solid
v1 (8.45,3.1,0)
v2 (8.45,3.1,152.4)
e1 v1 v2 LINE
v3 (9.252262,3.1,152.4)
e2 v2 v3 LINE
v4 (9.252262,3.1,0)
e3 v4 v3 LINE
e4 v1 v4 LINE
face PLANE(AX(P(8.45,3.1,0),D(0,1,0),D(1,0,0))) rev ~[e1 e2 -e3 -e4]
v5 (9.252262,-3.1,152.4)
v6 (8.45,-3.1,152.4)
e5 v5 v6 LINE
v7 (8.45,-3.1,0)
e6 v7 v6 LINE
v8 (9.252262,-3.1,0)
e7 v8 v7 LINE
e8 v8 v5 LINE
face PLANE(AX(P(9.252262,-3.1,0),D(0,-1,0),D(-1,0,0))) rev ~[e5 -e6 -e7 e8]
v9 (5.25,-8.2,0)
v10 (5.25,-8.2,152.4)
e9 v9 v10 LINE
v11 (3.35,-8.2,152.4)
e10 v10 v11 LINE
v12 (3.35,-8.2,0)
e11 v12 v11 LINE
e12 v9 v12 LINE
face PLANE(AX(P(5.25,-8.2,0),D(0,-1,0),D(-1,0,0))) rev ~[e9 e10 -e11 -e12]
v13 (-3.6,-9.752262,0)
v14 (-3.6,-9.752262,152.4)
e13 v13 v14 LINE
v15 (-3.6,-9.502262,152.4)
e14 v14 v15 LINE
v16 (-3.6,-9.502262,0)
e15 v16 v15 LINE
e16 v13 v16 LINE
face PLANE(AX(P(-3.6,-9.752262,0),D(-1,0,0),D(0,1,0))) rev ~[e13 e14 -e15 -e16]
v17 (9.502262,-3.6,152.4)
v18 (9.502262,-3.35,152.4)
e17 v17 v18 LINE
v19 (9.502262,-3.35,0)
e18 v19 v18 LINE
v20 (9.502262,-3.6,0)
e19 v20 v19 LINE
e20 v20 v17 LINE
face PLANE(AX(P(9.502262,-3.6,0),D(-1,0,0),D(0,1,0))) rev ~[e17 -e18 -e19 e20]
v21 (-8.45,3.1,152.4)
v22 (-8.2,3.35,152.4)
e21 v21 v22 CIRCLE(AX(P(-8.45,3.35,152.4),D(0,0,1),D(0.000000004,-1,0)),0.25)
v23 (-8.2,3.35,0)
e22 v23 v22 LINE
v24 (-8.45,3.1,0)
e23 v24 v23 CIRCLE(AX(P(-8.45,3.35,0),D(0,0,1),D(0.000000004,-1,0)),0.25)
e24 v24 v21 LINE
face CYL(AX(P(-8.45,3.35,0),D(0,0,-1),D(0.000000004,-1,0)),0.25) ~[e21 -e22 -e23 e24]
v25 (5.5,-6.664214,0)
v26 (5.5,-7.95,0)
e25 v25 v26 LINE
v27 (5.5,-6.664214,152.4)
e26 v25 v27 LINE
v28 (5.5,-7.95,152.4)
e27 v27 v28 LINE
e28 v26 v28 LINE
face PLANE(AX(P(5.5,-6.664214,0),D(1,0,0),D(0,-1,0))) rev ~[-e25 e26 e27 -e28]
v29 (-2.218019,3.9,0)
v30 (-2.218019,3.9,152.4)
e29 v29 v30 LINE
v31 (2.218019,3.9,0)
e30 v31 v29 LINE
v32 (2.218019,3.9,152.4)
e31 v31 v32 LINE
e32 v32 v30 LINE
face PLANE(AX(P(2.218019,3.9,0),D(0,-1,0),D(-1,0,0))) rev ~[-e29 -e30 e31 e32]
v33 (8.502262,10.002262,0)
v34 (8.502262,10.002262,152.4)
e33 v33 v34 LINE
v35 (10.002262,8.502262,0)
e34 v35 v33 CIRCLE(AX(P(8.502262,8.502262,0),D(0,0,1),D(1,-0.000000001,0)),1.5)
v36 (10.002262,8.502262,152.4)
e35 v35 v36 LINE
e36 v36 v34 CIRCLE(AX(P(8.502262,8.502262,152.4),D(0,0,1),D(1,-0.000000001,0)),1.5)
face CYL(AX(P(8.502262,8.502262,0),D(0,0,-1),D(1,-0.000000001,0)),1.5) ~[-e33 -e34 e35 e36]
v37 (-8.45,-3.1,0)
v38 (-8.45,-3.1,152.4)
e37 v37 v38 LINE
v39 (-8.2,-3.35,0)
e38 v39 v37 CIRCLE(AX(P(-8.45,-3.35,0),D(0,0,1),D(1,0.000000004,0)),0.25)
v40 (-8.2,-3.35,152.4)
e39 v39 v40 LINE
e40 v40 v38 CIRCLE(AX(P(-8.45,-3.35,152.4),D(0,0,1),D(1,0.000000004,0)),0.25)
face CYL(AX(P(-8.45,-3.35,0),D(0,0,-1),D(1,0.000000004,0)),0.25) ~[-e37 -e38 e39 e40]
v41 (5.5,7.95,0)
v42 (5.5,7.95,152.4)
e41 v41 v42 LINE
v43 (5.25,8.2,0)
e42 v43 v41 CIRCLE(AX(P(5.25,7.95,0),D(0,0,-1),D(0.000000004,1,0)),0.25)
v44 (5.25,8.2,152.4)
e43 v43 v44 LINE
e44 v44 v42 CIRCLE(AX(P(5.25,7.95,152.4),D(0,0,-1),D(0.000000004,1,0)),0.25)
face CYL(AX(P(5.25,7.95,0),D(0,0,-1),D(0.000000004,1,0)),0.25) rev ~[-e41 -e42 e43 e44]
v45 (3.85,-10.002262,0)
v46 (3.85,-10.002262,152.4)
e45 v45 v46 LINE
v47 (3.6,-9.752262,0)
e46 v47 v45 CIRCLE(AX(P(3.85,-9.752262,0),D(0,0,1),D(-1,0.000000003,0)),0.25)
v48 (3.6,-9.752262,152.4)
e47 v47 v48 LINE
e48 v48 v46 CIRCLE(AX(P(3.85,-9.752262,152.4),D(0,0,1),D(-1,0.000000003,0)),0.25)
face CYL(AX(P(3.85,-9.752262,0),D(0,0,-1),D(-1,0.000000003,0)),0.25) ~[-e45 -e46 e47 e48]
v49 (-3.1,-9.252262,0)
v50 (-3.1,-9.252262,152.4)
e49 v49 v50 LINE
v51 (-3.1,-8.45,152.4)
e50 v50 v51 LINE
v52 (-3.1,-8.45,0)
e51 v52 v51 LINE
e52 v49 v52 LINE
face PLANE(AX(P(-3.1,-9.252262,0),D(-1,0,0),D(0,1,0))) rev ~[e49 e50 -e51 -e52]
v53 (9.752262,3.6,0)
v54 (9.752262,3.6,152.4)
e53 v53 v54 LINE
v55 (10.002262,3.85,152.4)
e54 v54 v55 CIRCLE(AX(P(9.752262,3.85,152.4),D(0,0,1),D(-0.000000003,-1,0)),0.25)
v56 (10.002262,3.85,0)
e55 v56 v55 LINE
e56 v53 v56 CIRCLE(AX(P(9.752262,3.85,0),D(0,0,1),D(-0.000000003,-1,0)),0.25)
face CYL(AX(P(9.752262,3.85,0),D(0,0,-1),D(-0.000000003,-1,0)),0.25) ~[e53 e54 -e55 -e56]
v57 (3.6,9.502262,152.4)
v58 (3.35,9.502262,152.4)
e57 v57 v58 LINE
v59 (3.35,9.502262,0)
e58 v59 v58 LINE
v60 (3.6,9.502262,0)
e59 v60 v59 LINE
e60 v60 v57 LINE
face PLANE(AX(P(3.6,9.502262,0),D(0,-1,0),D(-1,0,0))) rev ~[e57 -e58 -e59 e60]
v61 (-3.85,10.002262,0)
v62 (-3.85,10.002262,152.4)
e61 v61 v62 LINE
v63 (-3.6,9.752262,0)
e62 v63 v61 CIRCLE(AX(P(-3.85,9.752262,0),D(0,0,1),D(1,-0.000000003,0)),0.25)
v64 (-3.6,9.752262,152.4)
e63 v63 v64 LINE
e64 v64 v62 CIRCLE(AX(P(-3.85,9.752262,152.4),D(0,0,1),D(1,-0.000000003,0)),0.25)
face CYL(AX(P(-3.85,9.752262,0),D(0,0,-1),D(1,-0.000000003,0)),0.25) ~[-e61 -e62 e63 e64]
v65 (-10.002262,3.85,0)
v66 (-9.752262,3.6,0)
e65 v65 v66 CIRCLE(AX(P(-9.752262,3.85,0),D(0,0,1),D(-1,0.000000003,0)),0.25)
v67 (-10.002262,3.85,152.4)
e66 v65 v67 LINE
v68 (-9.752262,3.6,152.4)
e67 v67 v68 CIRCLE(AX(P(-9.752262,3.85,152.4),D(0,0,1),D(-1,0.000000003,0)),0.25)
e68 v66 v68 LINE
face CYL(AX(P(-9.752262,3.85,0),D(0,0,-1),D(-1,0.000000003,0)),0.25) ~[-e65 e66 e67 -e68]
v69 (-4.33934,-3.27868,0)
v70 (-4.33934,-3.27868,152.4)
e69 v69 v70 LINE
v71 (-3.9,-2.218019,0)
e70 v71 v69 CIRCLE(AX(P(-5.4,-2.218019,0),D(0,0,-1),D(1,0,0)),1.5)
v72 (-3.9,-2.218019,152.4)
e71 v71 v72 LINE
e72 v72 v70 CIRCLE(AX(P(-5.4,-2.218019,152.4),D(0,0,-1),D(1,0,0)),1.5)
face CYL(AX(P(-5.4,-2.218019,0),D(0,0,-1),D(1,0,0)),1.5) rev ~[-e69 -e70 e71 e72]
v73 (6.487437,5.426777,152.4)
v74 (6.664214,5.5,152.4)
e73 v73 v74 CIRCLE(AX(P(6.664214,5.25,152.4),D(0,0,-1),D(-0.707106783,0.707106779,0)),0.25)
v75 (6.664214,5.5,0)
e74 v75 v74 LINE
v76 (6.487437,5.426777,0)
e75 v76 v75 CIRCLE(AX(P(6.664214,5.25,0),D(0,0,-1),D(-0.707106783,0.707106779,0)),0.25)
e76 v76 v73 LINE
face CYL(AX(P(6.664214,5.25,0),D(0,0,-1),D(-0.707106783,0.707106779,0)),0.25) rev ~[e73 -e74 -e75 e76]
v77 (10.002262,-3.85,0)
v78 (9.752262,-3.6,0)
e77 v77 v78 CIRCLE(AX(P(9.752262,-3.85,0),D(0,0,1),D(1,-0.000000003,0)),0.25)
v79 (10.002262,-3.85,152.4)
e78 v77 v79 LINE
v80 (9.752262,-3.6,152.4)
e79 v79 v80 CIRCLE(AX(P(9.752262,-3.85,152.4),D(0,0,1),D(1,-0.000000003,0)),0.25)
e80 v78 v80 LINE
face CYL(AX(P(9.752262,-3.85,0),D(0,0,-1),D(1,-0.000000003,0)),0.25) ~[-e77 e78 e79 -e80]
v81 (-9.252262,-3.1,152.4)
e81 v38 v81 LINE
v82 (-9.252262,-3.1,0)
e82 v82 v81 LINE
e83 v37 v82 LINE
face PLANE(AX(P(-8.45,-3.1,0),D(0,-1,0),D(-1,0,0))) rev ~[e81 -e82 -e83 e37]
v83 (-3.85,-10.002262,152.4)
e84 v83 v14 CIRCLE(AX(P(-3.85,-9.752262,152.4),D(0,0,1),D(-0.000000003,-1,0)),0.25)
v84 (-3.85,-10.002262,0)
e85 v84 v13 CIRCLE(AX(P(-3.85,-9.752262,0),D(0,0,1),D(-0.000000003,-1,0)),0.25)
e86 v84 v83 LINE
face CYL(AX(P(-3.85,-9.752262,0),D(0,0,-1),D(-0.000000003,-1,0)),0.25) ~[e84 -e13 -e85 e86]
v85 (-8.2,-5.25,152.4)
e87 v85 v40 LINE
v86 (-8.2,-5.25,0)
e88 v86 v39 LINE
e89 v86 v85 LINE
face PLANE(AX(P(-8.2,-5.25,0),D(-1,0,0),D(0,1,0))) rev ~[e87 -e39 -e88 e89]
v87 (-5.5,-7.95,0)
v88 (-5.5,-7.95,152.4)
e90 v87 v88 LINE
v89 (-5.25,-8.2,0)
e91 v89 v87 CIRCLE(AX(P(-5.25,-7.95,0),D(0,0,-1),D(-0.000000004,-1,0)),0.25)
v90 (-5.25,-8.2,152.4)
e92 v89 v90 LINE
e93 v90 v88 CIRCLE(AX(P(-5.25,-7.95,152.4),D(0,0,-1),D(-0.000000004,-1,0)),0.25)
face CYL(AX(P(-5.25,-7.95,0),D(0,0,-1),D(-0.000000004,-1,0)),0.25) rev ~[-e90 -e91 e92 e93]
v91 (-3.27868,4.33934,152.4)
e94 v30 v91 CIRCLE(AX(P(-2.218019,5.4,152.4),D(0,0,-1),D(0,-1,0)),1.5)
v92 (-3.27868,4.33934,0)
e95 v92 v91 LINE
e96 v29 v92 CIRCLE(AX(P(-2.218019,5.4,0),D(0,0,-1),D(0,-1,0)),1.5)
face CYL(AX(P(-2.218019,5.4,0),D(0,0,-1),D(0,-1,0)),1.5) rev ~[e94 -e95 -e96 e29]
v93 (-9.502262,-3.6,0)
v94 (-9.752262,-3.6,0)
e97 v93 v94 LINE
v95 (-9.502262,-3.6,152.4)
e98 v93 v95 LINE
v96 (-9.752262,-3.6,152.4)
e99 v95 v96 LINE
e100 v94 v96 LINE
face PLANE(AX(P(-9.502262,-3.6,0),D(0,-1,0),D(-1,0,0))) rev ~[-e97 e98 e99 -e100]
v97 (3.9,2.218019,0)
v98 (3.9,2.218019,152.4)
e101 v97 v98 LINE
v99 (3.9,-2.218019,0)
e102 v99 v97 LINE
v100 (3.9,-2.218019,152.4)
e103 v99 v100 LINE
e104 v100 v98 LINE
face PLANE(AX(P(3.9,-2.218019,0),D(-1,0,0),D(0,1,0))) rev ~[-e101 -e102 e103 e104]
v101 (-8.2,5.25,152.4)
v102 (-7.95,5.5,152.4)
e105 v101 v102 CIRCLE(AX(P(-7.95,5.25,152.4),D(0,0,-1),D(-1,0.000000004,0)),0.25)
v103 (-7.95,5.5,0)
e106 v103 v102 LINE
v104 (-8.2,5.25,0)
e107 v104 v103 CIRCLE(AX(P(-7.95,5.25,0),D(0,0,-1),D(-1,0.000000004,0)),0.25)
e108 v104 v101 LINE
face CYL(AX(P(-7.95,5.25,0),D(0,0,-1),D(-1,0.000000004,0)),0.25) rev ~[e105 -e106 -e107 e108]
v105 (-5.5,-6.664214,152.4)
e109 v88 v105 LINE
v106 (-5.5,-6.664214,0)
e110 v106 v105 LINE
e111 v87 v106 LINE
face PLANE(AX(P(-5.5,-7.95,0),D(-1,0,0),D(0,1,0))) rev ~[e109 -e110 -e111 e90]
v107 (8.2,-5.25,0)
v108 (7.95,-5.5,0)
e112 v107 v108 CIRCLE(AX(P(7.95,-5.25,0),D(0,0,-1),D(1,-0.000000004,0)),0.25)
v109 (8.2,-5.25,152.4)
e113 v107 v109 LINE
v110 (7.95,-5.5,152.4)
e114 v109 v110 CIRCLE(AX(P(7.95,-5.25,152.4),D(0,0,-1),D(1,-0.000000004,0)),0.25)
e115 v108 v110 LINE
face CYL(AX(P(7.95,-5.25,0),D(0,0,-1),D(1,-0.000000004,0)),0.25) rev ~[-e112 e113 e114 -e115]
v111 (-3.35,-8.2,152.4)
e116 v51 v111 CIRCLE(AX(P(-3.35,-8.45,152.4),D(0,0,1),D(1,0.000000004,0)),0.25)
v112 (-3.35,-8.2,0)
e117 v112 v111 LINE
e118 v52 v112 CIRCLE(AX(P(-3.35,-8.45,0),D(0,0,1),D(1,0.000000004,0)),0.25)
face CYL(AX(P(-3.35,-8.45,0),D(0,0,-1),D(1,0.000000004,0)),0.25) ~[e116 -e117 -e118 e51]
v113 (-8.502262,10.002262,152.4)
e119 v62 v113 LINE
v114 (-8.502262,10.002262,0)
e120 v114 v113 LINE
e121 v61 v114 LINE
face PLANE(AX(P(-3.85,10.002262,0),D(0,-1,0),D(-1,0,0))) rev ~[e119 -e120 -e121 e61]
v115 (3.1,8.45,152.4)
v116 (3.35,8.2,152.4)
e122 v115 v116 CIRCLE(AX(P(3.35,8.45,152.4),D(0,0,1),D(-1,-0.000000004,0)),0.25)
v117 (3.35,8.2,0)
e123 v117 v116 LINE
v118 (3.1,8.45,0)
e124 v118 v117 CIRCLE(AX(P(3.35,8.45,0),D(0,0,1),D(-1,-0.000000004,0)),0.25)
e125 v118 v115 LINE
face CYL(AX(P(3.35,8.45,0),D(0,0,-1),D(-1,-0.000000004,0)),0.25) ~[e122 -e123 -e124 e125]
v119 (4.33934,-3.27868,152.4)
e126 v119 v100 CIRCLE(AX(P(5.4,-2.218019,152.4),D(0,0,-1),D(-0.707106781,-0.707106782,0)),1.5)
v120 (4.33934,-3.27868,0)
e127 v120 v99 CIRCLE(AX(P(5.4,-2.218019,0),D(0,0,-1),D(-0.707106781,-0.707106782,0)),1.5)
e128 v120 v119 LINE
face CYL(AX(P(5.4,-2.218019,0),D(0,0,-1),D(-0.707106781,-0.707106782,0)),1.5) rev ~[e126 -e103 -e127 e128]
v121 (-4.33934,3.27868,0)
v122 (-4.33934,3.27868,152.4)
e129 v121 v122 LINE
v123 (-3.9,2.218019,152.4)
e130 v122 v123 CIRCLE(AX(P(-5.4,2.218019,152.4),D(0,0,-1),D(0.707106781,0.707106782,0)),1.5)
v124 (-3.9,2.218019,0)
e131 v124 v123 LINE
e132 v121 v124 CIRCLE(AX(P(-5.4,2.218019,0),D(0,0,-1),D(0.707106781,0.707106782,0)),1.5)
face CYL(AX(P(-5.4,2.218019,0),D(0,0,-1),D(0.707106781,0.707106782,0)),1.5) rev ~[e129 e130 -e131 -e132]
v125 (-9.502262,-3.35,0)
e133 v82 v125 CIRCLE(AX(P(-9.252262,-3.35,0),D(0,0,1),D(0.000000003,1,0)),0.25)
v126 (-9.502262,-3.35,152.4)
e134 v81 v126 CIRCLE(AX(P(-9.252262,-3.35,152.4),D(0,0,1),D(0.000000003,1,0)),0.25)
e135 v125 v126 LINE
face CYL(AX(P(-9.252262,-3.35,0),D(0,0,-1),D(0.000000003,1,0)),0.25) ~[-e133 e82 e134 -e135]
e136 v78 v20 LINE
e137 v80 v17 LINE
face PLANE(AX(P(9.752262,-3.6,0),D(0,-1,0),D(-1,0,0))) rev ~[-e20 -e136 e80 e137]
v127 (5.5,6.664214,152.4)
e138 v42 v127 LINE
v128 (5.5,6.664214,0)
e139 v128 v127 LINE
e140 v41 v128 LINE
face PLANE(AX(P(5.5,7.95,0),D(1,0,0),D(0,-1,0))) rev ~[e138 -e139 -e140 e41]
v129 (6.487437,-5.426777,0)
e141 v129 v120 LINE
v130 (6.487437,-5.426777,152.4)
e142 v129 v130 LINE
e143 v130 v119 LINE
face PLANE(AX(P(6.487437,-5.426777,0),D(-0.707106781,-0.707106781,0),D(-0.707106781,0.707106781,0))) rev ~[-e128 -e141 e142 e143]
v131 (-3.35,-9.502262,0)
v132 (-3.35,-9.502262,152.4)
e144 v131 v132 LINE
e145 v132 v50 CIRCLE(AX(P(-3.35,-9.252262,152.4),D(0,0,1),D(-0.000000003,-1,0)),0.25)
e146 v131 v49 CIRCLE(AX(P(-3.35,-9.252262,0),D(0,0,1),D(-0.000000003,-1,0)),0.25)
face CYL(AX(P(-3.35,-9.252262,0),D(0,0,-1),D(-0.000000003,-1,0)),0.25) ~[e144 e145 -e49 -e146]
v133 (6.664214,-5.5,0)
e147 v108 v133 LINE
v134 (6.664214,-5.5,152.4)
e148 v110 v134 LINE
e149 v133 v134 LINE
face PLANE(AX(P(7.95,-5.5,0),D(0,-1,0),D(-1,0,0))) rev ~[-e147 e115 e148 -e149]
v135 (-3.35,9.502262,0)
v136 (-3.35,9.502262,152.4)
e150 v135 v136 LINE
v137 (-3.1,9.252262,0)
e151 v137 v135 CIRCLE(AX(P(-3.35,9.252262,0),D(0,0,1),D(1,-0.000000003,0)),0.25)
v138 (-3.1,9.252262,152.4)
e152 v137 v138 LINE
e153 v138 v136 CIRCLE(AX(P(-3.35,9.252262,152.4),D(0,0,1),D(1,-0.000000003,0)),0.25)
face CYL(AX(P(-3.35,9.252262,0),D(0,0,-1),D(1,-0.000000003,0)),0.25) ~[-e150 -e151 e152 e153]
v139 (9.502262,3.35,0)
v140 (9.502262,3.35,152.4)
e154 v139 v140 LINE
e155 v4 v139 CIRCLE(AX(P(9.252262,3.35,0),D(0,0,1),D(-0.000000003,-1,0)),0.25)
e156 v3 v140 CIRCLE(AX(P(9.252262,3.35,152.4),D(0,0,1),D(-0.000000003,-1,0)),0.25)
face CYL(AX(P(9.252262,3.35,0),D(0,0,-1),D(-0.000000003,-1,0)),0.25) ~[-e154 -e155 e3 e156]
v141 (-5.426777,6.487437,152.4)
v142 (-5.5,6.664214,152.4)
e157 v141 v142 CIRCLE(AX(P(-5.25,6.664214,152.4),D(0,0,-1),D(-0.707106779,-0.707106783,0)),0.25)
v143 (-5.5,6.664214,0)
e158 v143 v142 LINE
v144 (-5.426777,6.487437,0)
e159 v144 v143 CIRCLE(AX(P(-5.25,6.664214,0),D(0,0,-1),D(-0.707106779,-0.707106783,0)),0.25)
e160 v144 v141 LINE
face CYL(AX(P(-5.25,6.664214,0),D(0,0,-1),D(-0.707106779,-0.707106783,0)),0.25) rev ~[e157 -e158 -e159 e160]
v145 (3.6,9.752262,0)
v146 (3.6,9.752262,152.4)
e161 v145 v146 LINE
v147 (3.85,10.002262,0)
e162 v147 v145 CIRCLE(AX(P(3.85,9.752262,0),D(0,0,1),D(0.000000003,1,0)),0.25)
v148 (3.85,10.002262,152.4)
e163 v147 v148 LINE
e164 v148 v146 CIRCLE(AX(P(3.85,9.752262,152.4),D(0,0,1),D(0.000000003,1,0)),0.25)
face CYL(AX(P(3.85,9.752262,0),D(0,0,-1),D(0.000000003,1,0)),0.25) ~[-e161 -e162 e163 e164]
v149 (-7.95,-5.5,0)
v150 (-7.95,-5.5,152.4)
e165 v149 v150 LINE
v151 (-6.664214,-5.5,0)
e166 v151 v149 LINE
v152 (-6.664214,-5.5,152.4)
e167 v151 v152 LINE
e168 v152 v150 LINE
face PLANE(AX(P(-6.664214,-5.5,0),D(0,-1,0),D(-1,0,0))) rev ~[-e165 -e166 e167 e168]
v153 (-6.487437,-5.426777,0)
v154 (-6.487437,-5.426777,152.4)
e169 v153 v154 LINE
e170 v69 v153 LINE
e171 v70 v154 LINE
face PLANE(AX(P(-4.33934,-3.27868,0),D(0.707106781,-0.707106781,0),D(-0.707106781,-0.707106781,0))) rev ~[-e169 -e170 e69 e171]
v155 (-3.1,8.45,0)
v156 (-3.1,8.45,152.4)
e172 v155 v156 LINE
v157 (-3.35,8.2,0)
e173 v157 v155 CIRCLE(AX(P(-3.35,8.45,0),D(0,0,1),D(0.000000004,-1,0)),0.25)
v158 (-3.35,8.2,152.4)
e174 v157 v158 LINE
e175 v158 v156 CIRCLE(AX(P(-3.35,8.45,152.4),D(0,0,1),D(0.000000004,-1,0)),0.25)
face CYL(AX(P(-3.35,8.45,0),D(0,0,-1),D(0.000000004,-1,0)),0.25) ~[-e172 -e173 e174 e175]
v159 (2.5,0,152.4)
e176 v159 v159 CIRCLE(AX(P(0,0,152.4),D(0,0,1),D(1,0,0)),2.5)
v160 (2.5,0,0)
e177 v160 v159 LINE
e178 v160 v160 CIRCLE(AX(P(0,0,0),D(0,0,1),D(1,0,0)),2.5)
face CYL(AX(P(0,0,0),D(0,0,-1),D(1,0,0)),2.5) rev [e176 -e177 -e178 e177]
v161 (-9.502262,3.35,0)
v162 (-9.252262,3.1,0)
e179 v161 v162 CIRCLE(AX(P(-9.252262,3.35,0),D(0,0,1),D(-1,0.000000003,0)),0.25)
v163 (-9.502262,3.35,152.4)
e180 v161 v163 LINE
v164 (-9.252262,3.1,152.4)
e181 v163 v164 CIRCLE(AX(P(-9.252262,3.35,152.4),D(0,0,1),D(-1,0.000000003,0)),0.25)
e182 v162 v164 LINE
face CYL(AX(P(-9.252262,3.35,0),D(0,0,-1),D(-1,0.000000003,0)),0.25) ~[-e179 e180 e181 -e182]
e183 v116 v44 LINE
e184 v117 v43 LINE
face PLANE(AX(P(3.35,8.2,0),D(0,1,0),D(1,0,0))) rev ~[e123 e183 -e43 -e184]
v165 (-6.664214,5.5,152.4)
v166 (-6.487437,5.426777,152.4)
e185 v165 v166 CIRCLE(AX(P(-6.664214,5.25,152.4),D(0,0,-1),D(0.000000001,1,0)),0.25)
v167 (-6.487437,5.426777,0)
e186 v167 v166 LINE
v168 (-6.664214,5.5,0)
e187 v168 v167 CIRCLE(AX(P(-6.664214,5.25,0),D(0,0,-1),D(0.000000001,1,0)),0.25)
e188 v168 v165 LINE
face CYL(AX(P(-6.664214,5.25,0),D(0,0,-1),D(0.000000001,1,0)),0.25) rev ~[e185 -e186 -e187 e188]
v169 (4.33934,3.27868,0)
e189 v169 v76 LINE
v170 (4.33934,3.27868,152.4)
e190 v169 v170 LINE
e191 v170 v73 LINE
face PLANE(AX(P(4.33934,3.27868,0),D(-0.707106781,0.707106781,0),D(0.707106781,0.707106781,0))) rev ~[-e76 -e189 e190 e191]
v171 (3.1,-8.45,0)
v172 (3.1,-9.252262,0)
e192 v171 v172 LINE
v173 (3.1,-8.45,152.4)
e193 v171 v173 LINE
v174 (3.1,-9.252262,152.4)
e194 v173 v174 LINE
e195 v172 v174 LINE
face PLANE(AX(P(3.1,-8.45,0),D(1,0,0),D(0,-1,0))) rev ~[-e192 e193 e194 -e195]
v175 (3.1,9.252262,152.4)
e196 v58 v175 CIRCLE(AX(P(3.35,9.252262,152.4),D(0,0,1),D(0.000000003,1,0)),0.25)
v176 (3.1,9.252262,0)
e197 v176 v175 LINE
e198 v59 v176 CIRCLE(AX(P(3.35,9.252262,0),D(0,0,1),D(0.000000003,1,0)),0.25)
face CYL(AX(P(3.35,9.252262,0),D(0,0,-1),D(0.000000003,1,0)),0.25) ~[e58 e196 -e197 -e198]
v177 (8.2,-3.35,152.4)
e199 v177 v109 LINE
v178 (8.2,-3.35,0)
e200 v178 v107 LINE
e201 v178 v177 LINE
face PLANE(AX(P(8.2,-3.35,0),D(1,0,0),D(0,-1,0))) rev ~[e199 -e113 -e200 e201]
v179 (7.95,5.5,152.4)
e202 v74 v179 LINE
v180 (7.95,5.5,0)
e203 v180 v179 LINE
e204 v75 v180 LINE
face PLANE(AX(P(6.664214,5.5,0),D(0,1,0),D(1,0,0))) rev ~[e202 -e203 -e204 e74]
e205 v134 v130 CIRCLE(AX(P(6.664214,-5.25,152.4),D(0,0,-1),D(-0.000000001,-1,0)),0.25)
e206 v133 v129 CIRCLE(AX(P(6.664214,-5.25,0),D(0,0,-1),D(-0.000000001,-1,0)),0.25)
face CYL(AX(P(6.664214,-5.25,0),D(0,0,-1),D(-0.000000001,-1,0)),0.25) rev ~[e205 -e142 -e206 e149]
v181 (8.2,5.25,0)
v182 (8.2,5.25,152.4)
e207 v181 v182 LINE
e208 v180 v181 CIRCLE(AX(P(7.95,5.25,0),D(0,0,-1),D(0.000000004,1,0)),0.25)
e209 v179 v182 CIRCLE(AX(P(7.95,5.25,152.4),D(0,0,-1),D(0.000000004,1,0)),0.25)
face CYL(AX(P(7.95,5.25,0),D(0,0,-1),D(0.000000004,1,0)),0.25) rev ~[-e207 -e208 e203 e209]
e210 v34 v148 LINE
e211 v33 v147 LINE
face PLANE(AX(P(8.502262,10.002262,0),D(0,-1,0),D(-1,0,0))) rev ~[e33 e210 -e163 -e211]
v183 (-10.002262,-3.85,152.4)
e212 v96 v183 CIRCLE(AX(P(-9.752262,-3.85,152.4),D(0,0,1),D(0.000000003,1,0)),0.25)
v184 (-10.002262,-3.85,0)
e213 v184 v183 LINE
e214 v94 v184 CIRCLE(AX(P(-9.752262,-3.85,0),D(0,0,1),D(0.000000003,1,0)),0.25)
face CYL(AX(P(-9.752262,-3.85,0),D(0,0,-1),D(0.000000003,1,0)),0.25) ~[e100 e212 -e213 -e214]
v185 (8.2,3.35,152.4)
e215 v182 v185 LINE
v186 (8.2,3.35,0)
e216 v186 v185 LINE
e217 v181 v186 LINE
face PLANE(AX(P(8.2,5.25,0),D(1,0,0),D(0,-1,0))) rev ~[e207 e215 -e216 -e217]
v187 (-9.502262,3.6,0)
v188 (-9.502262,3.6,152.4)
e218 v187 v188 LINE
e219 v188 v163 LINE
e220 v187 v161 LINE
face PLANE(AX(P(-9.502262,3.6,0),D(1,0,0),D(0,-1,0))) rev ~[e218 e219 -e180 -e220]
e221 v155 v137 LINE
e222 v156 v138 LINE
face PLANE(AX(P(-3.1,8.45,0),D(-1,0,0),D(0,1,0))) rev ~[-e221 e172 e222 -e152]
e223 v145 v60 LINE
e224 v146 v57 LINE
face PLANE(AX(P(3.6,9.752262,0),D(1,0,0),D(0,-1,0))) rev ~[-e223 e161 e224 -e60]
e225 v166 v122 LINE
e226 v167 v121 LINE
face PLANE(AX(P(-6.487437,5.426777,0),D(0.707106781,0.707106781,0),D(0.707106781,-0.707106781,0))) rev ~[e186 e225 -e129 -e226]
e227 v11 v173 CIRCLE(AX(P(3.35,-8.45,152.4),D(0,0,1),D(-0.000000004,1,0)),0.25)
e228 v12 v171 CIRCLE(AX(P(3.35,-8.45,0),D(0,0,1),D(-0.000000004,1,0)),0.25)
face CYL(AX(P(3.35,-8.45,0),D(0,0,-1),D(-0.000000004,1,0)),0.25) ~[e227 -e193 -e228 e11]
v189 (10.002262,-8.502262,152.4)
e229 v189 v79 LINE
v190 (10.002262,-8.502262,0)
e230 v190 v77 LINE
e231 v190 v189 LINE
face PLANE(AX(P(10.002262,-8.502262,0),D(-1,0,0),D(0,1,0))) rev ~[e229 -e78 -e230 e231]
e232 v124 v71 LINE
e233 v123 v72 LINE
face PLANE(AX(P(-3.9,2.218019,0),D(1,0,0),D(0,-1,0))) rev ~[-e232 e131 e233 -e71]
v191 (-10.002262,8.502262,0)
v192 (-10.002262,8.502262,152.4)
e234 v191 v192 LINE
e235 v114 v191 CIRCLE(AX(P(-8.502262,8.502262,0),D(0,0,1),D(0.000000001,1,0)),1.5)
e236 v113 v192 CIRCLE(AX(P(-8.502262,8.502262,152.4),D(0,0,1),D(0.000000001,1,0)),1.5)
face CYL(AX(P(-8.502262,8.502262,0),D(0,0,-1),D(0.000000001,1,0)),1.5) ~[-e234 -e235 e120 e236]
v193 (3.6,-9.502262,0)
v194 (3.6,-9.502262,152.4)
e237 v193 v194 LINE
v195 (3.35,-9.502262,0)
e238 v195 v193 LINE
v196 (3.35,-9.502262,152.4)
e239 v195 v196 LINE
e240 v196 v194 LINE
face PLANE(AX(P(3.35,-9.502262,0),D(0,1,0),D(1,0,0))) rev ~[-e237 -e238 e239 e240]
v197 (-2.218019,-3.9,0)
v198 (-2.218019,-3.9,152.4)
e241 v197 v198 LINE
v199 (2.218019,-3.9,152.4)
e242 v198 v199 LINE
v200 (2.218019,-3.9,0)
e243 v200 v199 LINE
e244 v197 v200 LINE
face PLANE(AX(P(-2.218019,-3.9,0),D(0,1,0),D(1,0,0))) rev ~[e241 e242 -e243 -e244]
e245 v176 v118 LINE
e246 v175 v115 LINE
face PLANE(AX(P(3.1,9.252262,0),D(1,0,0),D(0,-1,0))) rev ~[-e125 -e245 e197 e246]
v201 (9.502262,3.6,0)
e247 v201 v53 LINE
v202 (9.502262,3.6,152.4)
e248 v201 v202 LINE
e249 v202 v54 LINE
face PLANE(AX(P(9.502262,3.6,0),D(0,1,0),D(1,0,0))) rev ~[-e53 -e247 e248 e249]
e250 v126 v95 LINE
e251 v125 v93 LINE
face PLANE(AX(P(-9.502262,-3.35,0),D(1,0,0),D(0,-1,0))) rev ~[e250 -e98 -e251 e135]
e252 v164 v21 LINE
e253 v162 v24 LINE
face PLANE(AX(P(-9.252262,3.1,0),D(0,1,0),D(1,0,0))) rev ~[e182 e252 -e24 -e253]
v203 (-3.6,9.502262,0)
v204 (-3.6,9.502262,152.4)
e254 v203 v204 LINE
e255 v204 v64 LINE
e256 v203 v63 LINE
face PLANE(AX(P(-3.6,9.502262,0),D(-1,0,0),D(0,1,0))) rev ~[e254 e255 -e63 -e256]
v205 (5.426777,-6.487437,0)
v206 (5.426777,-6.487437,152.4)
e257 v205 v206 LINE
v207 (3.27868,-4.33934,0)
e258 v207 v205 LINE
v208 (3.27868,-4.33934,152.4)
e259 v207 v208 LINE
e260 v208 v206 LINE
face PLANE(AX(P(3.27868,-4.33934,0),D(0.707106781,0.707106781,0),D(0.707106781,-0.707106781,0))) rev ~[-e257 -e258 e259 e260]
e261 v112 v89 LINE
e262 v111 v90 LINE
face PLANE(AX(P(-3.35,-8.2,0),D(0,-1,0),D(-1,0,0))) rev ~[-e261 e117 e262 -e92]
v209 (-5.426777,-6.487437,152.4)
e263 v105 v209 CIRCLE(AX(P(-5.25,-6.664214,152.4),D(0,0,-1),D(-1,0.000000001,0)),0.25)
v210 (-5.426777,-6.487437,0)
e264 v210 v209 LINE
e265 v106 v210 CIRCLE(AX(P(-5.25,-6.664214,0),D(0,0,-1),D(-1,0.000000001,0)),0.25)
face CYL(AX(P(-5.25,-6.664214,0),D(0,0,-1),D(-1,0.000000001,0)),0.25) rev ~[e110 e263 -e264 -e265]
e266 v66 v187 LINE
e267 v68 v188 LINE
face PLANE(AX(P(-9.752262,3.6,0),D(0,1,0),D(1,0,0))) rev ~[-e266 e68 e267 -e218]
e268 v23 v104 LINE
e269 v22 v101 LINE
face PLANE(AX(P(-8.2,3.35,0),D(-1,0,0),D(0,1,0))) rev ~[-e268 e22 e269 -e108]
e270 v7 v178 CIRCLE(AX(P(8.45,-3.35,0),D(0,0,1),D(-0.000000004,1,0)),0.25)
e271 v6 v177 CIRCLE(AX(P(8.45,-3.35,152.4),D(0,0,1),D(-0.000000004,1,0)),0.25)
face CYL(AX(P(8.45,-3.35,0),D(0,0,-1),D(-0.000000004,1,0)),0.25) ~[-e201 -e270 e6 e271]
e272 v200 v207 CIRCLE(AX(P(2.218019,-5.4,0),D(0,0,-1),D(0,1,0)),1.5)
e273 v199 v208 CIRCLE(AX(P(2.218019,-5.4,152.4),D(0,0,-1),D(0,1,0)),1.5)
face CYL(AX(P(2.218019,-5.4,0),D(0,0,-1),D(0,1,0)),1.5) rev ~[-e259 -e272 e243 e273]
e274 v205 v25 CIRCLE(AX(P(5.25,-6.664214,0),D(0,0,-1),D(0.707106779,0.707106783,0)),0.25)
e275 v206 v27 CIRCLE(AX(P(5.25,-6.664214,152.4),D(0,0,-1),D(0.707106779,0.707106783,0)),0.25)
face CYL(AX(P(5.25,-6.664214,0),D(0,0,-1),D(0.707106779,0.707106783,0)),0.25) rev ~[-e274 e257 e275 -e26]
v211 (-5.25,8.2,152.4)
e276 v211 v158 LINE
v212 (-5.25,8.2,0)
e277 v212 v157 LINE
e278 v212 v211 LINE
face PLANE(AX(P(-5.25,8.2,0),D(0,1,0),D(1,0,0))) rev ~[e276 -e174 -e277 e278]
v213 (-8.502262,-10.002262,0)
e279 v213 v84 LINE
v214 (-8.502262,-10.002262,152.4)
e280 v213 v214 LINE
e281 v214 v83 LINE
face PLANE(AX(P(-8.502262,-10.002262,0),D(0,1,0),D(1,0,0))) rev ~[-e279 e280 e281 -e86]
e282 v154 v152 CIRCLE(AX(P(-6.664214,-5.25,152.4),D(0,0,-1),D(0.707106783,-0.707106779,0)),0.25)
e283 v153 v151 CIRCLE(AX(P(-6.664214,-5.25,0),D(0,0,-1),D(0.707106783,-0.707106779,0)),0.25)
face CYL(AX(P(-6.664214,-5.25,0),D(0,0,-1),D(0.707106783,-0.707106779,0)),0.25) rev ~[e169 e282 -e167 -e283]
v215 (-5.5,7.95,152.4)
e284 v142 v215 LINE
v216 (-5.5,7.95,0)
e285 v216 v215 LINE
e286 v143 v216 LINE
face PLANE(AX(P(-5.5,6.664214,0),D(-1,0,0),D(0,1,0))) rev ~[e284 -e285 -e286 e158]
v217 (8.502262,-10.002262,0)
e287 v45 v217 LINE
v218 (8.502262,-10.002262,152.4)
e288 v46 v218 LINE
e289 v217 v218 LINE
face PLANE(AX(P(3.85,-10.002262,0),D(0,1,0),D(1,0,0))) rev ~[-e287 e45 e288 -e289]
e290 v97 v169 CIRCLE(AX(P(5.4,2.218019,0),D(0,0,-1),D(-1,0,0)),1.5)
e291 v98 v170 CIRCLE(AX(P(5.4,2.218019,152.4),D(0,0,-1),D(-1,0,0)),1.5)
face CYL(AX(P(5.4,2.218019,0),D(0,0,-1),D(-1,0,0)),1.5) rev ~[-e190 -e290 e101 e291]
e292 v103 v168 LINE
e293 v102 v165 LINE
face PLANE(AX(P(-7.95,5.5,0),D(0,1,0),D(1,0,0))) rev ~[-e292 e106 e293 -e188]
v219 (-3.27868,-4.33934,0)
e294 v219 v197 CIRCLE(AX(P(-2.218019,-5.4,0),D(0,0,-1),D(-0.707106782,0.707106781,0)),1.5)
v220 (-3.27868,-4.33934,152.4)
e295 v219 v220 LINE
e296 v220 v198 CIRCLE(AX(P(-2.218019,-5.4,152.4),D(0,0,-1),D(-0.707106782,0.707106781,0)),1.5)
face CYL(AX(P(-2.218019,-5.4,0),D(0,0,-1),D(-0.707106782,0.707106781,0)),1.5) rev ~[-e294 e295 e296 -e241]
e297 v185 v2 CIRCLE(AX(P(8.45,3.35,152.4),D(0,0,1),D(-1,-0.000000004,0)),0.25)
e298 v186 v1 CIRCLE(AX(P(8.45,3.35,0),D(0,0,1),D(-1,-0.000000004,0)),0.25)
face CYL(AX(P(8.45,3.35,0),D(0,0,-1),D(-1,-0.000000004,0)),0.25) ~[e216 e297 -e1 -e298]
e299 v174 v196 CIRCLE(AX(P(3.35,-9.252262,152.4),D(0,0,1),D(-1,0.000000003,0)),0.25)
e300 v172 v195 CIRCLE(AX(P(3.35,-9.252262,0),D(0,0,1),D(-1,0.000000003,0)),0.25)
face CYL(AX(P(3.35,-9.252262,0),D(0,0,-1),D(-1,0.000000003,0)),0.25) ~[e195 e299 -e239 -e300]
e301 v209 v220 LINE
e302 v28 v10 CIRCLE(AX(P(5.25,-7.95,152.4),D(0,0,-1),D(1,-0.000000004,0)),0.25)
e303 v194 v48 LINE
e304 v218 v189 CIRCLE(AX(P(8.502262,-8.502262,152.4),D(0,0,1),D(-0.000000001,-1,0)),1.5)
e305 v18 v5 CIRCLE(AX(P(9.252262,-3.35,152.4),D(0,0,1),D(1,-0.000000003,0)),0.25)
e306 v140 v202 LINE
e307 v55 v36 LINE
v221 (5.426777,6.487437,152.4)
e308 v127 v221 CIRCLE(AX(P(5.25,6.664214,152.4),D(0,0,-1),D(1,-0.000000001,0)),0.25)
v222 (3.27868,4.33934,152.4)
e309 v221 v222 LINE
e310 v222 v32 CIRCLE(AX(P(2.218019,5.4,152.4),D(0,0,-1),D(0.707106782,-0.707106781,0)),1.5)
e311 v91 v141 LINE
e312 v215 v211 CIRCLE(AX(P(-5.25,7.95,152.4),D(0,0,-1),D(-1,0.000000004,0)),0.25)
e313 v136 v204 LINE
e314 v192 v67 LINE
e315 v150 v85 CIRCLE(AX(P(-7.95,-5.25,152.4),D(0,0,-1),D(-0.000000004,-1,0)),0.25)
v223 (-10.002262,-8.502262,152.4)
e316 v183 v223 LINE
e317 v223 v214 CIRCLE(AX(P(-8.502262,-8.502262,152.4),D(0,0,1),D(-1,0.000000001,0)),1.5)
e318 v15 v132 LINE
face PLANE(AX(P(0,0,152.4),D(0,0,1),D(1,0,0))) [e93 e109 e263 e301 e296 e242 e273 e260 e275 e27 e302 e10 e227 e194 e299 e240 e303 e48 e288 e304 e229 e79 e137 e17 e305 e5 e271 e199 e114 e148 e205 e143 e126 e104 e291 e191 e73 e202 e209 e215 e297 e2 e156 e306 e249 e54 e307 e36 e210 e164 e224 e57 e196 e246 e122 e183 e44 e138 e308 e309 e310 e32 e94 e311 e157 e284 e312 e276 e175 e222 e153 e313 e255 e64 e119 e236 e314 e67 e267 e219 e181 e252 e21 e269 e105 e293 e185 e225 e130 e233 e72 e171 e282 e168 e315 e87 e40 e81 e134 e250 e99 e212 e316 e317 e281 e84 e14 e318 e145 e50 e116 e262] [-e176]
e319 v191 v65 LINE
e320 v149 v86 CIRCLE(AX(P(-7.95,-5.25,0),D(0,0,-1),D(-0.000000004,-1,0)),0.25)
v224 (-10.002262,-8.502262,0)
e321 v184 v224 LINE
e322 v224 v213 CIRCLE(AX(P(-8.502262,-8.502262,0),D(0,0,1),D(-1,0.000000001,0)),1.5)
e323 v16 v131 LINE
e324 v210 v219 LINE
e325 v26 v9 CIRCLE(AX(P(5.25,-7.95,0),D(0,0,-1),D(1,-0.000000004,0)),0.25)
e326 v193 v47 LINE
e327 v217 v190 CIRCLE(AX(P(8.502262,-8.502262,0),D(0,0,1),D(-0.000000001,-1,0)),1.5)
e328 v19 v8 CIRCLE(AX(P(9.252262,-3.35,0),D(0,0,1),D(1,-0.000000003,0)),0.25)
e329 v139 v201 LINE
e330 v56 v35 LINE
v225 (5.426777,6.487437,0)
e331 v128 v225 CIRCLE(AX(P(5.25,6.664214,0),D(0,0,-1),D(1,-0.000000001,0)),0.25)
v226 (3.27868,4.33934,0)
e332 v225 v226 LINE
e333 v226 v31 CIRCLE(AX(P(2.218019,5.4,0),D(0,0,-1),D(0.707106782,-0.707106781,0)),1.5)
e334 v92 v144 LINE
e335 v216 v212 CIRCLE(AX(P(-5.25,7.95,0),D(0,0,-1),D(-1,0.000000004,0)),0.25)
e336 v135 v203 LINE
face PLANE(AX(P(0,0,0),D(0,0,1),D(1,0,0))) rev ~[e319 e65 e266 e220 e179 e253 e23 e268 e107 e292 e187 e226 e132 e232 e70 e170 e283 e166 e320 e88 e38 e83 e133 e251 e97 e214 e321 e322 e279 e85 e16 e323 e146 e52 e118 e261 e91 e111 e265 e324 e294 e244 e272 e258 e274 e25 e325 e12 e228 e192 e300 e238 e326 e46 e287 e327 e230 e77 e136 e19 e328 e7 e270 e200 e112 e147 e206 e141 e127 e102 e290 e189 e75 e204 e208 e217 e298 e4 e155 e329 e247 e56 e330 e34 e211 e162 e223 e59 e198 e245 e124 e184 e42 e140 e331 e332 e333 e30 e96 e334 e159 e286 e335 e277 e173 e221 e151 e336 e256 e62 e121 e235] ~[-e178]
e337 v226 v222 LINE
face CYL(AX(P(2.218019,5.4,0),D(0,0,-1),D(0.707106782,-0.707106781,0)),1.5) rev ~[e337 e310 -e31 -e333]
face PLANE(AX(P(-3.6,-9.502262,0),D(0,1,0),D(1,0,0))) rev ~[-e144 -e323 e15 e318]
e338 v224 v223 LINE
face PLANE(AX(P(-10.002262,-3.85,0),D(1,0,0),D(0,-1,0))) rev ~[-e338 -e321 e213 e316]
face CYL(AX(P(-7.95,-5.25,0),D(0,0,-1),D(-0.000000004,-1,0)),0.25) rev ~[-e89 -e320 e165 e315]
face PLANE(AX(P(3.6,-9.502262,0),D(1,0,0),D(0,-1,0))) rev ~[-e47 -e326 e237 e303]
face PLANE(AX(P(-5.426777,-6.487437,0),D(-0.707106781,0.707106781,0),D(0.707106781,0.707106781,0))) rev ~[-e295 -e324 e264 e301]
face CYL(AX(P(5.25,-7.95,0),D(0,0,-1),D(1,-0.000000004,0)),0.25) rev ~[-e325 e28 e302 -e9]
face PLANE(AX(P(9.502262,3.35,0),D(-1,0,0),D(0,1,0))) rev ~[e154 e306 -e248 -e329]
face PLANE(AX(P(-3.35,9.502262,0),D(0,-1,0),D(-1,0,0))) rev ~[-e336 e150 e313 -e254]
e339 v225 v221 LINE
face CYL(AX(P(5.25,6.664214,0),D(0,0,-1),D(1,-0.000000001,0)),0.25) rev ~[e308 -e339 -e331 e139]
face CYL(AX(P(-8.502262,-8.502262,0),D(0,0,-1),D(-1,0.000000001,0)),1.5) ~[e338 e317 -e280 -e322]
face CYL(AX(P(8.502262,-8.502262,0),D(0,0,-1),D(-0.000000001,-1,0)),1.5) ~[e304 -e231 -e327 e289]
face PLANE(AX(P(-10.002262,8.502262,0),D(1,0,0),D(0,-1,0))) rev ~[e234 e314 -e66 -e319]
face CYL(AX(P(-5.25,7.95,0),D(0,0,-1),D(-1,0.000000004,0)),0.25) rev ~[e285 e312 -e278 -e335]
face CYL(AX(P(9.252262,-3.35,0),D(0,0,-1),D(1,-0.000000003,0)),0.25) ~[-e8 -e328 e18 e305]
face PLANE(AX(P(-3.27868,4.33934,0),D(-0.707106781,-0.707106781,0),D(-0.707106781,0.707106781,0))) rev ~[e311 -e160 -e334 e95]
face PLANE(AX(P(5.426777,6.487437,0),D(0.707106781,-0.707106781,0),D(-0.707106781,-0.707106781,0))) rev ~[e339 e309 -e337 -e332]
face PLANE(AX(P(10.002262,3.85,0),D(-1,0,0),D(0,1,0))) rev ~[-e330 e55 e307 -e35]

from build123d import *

# Parameters (mm, degrees)
SKETCH_1_R      = 2.5
EXTRUDE_1_DEPTH = 152.4


with BuildPart() as part:
    # 草图1 → 凸台-拉伸1 (new body)
    with BuildSketch(Plane.XY):
        with BuildLine():
            Line((-8.502261885, -10.002261885), (-3.85, -10.002261885))
            ThreePointArc((-3.85, -10.002261885), (-3.673223305, -9.929038581), (-3.6, -9.752261885))
            Line((-3.6, -9.752261885), (-3.6, -9.502261885))
            Line((-3.6, -9.502261885), (-3.35, -9.502261885))
            ThreePointArc((-3.35, -9.502261885), (-3.173223305, -9.429038581), (-3.1, -9.252261885))
            Line((-3.1, -9.252261885), (-3.1, -8.45))
            ThreePointArc((-3.1, -8.45), (-3.173223305, -8.273223305), (-3.35, -8.2))
            Line((-3.35, -8.2), (-5.25, -8.2))
            ThreePointArc((-5.25, -8.2), (-5.426776695, -8.126776695), (-5.5, -7.95))
            Line((-5.5, -7.95), (-5.5, -6.664213562))
            ThreePointArc((-5.5, -6.664213562), (-5.480969883, -6.568542704), (-5.426776695, -6.487436867))
            Line((-5.426776695, -6.487436867), (-3.278679656, -4.339339828))
            ThreePointArc((-3.278679656, -4.339339828), (-2.792044633, -4.014180701), (-2.218019485, -3.9))
            Line((-2.218019485, -3.9), (2.218019485, -3.9))
            ThreePointArc((2.218019485, -3.9), (2.792044633, -4.014180701), (3.278679656, -4.339339828))
            Line((3.278679656, -4.339339828), (5.426776695, -6.487436867))
            ThreePointArc((5.426776695, -6.487436867), (5.480969883, -6.568542704), (5.5, -6.664213562))
            Line((5.5, -6.664213562), (5.5, -7.95))
            ThreePointArc((5.5, -7.95), (5.426776695, -8.126776695), (5.25, -8.2))
            Line((5.25, -8.2), (3.35, -8.2))
            ThreePointArc((3.35, -8.2), (3.173223305, -8.273223305), (3.1, -8.45))
            Line((3.1, -8.45), (3.1, -9.252261885))
            ThreePointArc((3.1, -9.252261885), (3.173223305, -9.429038581), (3.35, -9.502261885))
            Line((3.35, -9.502261885), (3.6, -9.502261885))
            Line((3.6, -9.502261885), (3.6, -9.752261885))
            ThreePointArc((3.6, -9.752261885), (3.673223305, -9.929038581), (3.85, -10.002261885))
            Line((3.85, -10.002261885), (8.502261885, -10.002261885))
            ThreePointArc((8.502261885, -10.002261885), (9.562922057, -9.562922057), (10.002261885, -8.502261885))
            Line((10.002261885, -8.502261885), (10.002261885, -3.85))
            ThreePointArc((10.002261885, -3.85), (9.929038581, -3.673223305), (9.752261885, -3.6))
            Line((9.752261885, -3.6), (9.502261885, -3.6))
            Line((9.502261885, -3.6), (9.502261885, -3.35))
            ThreePointArc((9.502261885, -3.35), (9.429038581, -3.173223305), (9.252261885, -3.1))
            Line((9.252261885, -3.1), (8.45, -3.1))
            ThreePointArc((8.45, -3.1), (8.273223305, -3.173223305), (8.2, -3.35))
            Line((8.2, -3.35), (8.2, -5.25))
            ThreePointArc((8.2, -5.25), (8.126776695, -5.426776695), (7.95, -5.5))
            Line((7.95, -5.5), (6.664213562, -5.5))
            ThreePointArc((6.664213562, -5.5), (6.568542704, -5.480969883), (6.487436867, -5.426776695))
            Line((6.487436867, -5.426776695), (4.339339828, -3.278679656))
            ThreePointArc((4.339339828, -3.278679656), (4.014180701, -2.792044633), (3.9, -2.218019485))
            Line((3.9, -2.218019485), (3.9, 2.218019485))
            ThreePointArc((3.9, 2.218019485), (4.014180701, 2.792044633), (4.339339828, 3.278679656))
            Line((4.339339828, 3.278679656), (6.487436867, 5.426776695))
            ThreePointArc((6.487436867, 5.426776695), (6.568542704, 5.480969883), (6.664213562, 5.5))
            Line((6.664213562, 5.5), (7.95, 5.5))
            ThreePointArc((7.95, 5.5), (8.126776695, 5.426776695), (8.2, 5.25))
            Line((8.2, 5.25), (8.2, 3.35))
            ThreePointArc((8.2, 3.35), (8.273223305, 3.173223305), (8.45, 3.1))
            Line((8.45, 3.1), (9.252261885, 3.1))
            ThreePointArc((9.252261885, 3.1), (9.429038581, 3.173223305), (9.502261885, 3.35))
            Line((9.502261885, 3.35), (9.502261885, 3.6))
            Line((9.502261885, 3.6), (9.752261885, 3.6))
            ThreePointArc((9.752261885, 3.6), (9.929038581, 3.673223305), (10.002261885, 3.85))
            Line((10.002261885, 3.85), (10.002261885, 8.502261885))
            ThreePointArc((10.002261885, 8.502261885), (9.562922057, 9.562922057), (8.502261885, 10.002261885))
            Line((8.502261885, 10.002261885), (3.85, 10.002261885))
            ThreePointArc((3.85, 10.002261885), (3.673223305, 9.929038581), (3.6, 9.752261885))
            Line((3.6, 9.752261885), (3.6, 9.502261885))
            Line((3.6, 9.502261885), (3.35, 9.502261885))
            ThreePointArc((3.35, 9.502261885), (3.173223305, 9.429038581), (3.1, 9.252261885))
            Line((3.1, 9.252261885), (3.1, 8.45))
            ThreePointArc((3.1, 8.45), (3.173223305, 8.273223305), (3.35, 8.2))
            Line((3.35, 8.2), (5.25, 8.2))
            ThreePointArc((5.25, 8.2), (5.426776695, 8.126776695), (5.5, 7.95))
            Line((5.5, 7.95), (5.5, 6.664213562))
            ThreePointArc((5.5, 6.664213562), (5.480969883, 6.568542704), (5.426776695, 6.487436867))
            Line((5.426776695, 6.487436867), (3.278679656, 4.339339828))
            ThreePointArc((3.278679656, 4.339339828), (2.792044633, 4.014180701), (2.218019485, 3.9))
            Line((2.218019485, 3.9), (-2.218019485, 3.9))
            ThreePointArc((-2.218019485, 3.9), (-2.792044633, 4.014180701), (-3.278679656, 4.339339828))
            Line((-3.278679656, 4.339339828), (-5.426776695, 6.487436867))
            ThreePointArc((-5.426776695, 6.487436867), (-5.480969883, 6.568542704), (-5.5, 6.664213562))
            Line((-5.5, 6.664213562), (-5.5, 7.95))
            ThreePointArc((-5.5, 7.95), (-5.426776695, 8.126776695), (-5.25, 8.2))
            Line((-5.25, 8.2), (-3.35, 8.2))
            ThreePointArc((-3.35, 8.2), (-3.173223305, 8.273223305), (-3.1, 8.45))
            Line((-3.1, 8.45), (-3.1, 9.252261885))
            ThreePointArc((-3.1, 9.252261885), (-3.173223305, 9.429038581), (-3.35, 9.502261885))
            Line((-3.35, 9.502261885), (-3.6, 9.502261885))
            Line((-3.6, 9.502261885), (-3.6, 9.752261885))
            ThreePointArc((-3.6, 9.752261885), (-3.673223305, 9.929038581), (-3.85, 10.002261885))
            Line((-3.85, 10.002261885), (-8.502261885, 10.002261885))
            ThreePointArc((-8.502261885, 10.002261885), (-9.562922057, 9.562922057), (-10.002261885, 8.502261885))
            Line((-10.002261885, 8.502261885), (-10.002261885, 3.85))
            ThreePointArc((-10.002261885, 3.85), (-9.929038581, 3.673223305), (-9.752261885, 3.6))
            Line((-9.752261885, 3.6), (-9.502261885, 3.6))
            Line((-9.502261885, 3.6), (-9.502261885, 3.35))
            ThreePointArc((-9.502261885, 3.35), (-9.429038581, 3.173223305), (-9.252261885, 3.1))
            Line((-9.252261885, 3.1), (-8.45, 3.1))
            ThreePointArc((-8.45, 3.1), (-8.273223305, 3.173223305), (-8.2, 3.35))
            Line((-8.2, 3.35), (-8.2, 5.25))
            ThreePointArc((-8.2, 5.25), (-8.126776695, 5.426776695), (-7.95, 5.5))
            Line((-7.95, 5.5), (-6.664213562, 5.5))
            ThreePointArc((-6.664213562, 5.5), (-6.568542704, 5.480969883), (-6.487436867, 5.426776695))
            Line((-6.487436867, 5.426776695), (-4.339339828, 3.278679656))
            ThreePointArc((-4.339339828, 3.278679656), (-4.014180701, 2.792044633), (-3.9, 2.218019485))
            Line((-3.9, 2.218019485), (-3.9, -2.218019485))
            ThreePointArc((-3.9, -2.218019485), (-4.014180701, -2.792044633), (-4.339339828, -3.278679656))
            Line((-4.339339828, -3.278679656), (-6.487436867, -5.426776695))
            ThreePointArc((-6.487436867, -5.426776695), (-6.568542704, -5.480969883), (-6.664213562, -5.5))
            Line((-6.664213562, -5.5), (-7.95, -5.5))
            ThreePointArc((-7.95, -5.5), (-8.126776695, -5.426776695), (-8.2, -5.25))
            Line((-8.2, -5.25), (-8.2, -3.35))
            ThreePointArc((-8.2, -3.35), (-8.273223305, -3.173223305), (-8.45, -3.1))
            Line((-8.45, -3.1), (-9.252261885, -3.1))
            ThreePointArc((-9.252261885, -3.1), (-9.429038581, -3.173223305), (-9.502261885, -3.35))
            Line((-9.502261885, -3.35), (-9.502261885, -3.6))
            Line((-9.502261885, -3.6), (-9.752261885, -3.6))
            ThreePointArc((-9.752261885, -3.6), (-9.929038581, -3.673223305), (-10.002261885, -3.85))
            Line((-10.002261885, -3.85), (-10.002261885, -8.502261885))
            ThreePointArc((-10.002261885, -8.502261885), (-9.562922057, -9.562922057), (-8.502261885, -10.002261885))
        make_face()
        Circle(SKETCH_1_R, mode=Mode.SUBTRACT)
    extrude(amount=EXTRUDE_1_DEPTH)


solid = part.part
